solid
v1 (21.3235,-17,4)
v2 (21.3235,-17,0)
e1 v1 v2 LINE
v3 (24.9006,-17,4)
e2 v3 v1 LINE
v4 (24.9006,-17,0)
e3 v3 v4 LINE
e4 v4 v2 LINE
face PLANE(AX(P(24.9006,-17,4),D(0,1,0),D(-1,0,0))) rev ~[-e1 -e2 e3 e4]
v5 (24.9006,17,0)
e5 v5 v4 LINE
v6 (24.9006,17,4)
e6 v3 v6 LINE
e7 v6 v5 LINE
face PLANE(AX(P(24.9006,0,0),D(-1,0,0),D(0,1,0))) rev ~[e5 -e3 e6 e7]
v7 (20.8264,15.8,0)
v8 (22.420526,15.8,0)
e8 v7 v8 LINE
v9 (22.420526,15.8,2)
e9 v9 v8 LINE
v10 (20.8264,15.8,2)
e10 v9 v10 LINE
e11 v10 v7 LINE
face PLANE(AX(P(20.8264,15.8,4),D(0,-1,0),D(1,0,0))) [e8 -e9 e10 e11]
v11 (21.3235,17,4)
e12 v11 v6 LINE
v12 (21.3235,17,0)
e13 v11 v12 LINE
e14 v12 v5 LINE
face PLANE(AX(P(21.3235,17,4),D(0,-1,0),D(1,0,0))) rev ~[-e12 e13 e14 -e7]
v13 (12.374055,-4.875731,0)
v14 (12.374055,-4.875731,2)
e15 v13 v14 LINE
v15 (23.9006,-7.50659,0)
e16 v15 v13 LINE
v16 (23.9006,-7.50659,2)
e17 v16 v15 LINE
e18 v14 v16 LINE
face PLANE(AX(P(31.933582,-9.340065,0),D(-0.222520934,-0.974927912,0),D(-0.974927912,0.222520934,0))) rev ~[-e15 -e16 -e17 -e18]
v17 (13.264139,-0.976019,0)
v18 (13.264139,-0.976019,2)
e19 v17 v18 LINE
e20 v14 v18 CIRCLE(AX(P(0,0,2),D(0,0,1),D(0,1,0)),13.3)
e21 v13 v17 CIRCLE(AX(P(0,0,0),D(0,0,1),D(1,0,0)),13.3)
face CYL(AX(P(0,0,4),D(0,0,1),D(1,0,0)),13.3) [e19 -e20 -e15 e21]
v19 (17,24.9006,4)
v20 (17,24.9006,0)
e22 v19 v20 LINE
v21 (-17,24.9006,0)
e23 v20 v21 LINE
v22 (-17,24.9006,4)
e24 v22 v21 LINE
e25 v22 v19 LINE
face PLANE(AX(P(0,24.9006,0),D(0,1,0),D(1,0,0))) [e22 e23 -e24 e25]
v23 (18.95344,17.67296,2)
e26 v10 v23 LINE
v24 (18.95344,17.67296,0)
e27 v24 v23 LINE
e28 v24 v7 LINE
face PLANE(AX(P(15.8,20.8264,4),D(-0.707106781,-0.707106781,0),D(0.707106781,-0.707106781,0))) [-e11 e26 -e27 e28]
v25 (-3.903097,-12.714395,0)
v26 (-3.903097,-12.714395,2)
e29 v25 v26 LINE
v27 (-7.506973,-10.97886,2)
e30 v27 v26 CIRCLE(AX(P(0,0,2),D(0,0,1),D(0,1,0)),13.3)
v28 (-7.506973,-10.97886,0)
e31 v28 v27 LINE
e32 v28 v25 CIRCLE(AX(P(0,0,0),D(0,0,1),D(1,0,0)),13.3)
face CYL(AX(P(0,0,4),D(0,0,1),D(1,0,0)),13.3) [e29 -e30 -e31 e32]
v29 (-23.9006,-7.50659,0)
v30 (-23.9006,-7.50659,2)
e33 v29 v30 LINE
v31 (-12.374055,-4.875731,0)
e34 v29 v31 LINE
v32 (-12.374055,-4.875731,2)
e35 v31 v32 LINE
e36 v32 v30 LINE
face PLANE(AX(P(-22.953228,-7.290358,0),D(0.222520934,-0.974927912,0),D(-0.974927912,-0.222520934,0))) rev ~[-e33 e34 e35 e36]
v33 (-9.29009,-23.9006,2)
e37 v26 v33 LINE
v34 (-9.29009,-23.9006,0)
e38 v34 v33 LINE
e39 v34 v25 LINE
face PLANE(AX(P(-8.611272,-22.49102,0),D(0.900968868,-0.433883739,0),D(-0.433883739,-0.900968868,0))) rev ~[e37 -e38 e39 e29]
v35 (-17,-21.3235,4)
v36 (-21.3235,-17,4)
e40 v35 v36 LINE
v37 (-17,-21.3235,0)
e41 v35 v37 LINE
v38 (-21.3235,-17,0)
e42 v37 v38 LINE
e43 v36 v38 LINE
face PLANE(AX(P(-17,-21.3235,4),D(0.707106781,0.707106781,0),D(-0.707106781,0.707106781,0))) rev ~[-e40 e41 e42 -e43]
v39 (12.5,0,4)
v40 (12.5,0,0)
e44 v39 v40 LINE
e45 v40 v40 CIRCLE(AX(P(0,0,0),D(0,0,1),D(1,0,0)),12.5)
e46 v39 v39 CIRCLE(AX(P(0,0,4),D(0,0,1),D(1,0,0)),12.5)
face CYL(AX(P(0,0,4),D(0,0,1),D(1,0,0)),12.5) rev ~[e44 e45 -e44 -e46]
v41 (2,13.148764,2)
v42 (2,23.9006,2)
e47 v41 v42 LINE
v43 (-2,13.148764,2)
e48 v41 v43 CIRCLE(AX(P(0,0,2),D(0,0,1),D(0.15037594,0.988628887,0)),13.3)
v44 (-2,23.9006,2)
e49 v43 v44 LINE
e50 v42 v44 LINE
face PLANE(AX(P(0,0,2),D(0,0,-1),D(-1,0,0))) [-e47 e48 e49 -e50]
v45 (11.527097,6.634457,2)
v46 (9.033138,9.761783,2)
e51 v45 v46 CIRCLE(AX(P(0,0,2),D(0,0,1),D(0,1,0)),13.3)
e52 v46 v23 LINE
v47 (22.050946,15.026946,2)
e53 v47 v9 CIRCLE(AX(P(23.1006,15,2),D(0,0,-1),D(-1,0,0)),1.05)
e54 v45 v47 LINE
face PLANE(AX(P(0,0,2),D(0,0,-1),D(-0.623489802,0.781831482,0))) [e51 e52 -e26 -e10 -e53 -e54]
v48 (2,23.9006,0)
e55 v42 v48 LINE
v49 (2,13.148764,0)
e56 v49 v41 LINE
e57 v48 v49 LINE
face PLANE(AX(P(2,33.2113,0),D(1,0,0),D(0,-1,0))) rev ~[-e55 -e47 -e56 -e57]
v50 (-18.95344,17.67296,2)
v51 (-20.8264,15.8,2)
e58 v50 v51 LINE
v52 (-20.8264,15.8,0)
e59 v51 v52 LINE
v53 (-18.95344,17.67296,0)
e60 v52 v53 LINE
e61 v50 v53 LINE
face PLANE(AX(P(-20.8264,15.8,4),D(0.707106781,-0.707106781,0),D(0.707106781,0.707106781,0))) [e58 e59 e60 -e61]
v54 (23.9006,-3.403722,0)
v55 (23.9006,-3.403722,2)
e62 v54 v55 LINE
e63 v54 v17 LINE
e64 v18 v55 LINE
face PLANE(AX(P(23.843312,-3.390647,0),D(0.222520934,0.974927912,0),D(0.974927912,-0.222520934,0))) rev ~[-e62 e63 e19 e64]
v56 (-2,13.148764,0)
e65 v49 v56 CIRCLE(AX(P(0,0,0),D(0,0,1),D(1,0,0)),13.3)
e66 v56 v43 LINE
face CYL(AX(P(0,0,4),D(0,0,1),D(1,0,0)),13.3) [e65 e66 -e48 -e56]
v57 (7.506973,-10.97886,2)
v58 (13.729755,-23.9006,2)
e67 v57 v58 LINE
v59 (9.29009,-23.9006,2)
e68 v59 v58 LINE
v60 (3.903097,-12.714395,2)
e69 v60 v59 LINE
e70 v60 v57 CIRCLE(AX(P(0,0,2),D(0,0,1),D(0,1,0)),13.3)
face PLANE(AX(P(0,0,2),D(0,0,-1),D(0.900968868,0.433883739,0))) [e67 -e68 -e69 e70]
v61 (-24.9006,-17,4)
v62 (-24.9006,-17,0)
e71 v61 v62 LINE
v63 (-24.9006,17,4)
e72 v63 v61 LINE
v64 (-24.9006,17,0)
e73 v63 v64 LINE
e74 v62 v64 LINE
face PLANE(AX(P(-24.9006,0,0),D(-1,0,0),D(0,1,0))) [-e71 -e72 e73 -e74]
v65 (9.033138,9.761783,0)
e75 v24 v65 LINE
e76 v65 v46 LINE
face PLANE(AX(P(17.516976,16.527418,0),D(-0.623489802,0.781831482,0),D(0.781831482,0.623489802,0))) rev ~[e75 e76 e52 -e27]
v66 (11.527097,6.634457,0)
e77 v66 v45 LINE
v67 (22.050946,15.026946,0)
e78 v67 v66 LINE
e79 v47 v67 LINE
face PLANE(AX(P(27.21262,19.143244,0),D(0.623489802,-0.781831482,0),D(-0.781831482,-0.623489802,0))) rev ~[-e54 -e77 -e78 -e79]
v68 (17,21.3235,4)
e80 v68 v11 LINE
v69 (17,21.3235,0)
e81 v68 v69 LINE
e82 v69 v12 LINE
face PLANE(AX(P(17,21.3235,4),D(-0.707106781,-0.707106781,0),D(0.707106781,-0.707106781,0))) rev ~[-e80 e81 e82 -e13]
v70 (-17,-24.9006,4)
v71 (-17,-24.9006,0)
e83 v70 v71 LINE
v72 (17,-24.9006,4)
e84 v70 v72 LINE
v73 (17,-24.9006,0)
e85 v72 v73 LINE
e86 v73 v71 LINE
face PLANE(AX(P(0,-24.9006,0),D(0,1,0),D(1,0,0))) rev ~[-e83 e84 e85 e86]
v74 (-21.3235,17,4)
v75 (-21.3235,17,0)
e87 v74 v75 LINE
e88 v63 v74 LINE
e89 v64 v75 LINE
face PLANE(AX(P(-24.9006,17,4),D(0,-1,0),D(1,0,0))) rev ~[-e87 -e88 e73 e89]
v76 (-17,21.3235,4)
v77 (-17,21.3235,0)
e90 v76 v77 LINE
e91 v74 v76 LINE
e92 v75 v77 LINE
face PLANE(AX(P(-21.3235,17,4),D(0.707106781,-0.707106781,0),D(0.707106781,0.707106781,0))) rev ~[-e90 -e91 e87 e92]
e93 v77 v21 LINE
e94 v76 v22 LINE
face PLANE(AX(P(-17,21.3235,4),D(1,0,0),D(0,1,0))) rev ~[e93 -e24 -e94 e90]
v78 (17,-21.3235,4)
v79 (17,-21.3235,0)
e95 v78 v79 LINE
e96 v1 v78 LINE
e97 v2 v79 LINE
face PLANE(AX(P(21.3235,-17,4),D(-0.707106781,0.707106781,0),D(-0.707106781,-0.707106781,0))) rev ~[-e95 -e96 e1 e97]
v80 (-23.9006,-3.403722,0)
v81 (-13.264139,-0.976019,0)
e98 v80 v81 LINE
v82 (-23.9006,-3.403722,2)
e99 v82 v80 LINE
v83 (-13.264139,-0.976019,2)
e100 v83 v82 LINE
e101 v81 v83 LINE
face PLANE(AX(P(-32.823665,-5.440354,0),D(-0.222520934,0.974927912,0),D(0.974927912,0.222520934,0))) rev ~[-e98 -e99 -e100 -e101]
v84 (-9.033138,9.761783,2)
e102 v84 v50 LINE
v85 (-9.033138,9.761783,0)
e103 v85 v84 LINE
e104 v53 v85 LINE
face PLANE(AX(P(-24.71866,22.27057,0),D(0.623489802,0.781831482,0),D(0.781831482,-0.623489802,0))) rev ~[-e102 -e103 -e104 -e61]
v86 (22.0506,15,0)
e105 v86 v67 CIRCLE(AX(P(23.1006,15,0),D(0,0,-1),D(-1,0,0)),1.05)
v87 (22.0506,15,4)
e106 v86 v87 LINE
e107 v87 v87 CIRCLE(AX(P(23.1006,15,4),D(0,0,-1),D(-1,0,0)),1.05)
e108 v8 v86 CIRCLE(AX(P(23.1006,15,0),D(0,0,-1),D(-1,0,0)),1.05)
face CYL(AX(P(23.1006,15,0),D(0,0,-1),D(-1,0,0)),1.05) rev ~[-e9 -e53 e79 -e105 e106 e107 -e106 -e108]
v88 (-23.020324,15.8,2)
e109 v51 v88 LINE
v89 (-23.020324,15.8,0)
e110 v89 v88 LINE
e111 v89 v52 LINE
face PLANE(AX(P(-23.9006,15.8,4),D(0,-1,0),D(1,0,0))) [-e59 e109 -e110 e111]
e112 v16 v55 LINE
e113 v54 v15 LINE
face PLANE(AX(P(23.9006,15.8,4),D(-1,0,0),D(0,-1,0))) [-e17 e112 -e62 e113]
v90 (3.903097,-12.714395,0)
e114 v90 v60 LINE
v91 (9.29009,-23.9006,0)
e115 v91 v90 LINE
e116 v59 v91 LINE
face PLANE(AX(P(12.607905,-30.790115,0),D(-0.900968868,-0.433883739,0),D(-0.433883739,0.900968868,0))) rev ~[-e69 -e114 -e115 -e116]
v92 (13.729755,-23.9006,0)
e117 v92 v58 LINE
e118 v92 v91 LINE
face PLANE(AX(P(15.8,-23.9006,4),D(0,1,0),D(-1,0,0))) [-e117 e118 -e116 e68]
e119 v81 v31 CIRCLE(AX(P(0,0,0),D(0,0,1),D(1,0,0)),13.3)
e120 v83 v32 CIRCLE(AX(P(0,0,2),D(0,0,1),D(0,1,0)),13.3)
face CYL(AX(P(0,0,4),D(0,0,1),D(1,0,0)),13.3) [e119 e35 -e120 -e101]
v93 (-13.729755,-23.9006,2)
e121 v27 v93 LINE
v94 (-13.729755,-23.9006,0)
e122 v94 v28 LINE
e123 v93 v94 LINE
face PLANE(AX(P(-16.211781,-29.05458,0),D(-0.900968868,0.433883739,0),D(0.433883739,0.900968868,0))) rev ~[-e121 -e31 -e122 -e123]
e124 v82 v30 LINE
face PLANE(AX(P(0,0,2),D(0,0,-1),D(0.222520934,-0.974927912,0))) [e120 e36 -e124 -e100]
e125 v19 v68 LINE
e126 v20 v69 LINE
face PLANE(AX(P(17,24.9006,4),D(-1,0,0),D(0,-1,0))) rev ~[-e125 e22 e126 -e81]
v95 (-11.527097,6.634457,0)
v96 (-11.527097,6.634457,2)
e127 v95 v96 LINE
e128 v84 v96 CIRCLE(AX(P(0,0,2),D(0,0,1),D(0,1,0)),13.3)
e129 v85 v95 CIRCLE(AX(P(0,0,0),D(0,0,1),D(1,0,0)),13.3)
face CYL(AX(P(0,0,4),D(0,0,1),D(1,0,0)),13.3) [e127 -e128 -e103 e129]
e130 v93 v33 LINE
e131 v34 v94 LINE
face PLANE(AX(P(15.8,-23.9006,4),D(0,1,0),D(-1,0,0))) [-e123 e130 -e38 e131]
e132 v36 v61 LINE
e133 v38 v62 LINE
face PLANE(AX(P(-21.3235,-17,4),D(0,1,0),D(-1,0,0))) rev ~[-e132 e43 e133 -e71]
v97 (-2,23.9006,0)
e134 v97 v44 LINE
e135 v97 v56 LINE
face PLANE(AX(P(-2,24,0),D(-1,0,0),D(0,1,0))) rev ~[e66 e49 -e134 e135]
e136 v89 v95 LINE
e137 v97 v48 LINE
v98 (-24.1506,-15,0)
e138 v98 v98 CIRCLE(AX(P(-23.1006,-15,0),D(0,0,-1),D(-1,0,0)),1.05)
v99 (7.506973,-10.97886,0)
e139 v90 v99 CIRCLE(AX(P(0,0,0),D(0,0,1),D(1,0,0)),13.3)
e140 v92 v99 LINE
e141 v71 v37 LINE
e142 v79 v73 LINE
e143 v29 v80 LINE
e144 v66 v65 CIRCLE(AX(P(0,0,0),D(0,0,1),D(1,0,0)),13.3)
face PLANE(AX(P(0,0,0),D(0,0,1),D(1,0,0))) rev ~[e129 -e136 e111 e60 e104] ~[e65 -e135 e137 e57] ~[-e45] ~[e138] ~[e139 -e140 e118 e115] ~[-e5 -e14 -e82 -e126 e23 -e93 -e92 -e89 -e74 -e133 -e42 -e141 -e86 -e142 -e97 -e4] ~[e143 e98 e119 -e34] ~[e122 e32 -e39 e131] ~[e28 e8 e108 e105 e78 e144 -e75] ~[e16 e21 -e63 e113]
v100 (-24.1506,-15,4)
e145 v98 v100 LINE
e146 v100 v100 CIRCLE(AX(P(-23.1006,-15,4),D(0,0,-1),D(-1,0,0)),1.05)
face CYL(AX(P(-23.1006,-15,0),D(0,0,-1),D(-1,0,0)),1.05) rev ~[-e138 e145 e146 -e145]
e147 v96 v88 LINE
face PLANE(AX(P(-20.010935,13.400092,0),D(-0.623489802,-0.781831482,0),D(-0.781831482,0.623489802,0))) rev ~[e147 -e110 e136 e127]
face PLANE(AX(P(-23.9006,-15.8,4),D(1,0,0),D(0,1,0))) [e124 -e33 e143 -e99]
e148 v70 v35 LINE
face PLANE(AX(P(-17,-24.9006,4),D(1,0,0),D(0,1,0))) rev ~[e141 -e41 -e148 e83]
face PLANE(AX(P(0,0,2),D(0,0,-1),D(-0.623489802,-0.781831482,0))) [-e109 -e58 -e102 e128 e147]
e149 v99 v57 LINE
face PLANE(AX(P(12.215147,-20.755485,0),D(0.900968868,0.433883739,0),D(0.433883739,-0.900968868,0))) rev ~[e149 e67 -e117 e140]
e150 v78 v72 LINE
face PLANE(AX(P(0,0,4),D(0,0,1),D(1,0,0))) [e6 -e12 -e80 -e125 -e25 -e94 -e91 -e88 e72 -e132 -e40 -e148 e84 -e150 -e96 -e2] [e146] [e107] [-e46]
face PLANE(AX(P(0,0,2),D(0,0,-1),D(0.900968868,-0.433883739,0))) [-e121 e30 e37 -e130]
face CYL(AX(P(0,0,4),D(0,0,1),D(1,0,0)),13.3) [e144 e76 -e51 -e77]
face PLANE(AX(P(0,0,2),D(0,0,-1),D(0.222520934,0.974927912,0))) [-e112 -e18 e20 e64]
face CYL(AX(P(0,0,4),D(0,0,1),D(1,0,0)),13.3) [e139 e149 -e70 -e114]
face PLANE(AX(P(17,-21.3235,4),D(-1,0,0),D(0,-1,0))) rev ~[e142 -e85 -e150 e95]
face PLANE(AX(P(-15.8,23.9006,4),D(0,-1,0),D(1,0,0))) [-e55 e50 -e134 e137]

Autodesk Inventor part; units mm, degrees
ref_plane "YZ Plane" through (0, 0, 0) normal (1, 0, 0) x (0, 1, 0)
ref_plane "XZ Plane" through (0, 0, 0) normal (0, 1, 0) x (-1, 0, 0)
ref_plane "XY Plane" through (0, 0, 0) normal (0, 0, 1) x (1, 0, 0)
sketch "Sketch1" plane through (0, 0, 0) normal (0, 0, 1) x (1, 0, 0)
  line L0 (-34.8609, 0) -> (34.8609, 0) construction
  line L1 (0, -34.8609) -> (0, 34.8609) construction
  line L2 (0, 0) -> (11.6542, 11.6542) construction
  line L3 (0, 0) -> (16.4815, 0) construction
  line L4 (0, 24.9006) -> (16.8, 24.9006)
  line L5 (16.8, 24.9006) -> (16.8, 21.2406)
  line L6 (16.8, 21.2406) -> (19.0203, 19.0203)
  line L7 (24.9006, 0) -> (24.9006, 16.8)
  line L8 (24.9006, 16.8) -> (21.2406, 16.8)
  line L9 (21.2406, 16.8) -> (19.0203, 19.0203)
  line L10 (0, 0) -> (-11.6542, 11.6542) construction
  line L11 (0, 0) -> (-16.4815, 0) construction
  line L12 (0, 24.9006) -> (-16.8, 24.9006)
  line L13 (-16.8, 24.9006) -> (-16.8, 21.2406)
  line L14 (-16.8, 21.2406) -> (-19.0203, 19.0203)
  line L15 (-24.9006, 0) -> (-24.9006, 16.8)
  line L16 (-24.9006, 16.8) -> (-21.2406, 16.8)
  line L17 (-21.2406, 16.8) -> (-19.0203, 19.0203)
  line L18 (0, 0) -> (11.6542, -11.6542) construction
  line L19 (0, -24.9006) -> (16.8, -24.9006)
  line L20 (16.8, -24.9006) -> (16.8, -21.2406)
  line L21 (16.8, -21.2406) -> (19.0203, -19.0203)
  line L22 (24.9006, 0) -> (24.9006, -16.8)
  line L23 (24.9006, -16.8) -> (21.2406, -16.8)
  line L24 (21.2406, -16.8) -> (19.0203, -19.0203)
  line L25 (0, 0) -> (-11.6542, -11.6542) construction
  line L26 (0, -24.9006) -> (-16.8, -24.9006)
  line L27 (-16.8, -24.9006) -> (-16.8, -21.2406)
  line L28 (-16.8, -21.2406) -> (-19.0203, -19.0203)
  line L29 (-24.9006, 0) -> (-24.9006, -16.8)
  line L30 (-24.9006, -16.8) -> (-21.2406, -16.8)
  line L31 (-21.2406, -16.8) -> (-19.0203, -19.0203)
  dimension "d0" = 45
  dimension "d1" = 3.14
  dimension "d2" = 3.66
  dimension "d3" = 16.8
extrude "Extrusion1" add sketch "Sketch1" along normal blind 4
hole "Hole1" at (0, 0, 0) direction (0, 0, 1) diameter 26.6 end through all
sketch "Sketch6" plane through (0, 0, 4) normal (0, 0, 1) x (1, 0, 0)
  circle A0 centre (0, 0) radius 13.3 construction
  line L0 (16.8, 24.9006) -> (-16.8, 24.9006) construction
  line L1 (-16.8, 24.9006) -> (-16.8, 21.2406) construction
  line L2 (-16.8, 21.2406) -> (-21.2406, 16.8) construction
  line L3 (-21.2406, 16.8) -> (-24.9006, 16.8) construction
  line L4 (-24.9006, 16.8) -> (-24.9006, -16.8) construction
  line L5 (-24.9006, -16.8) -> (-21.2406, -16.8) construction
  line L6 (-21.2406, -16.8) -> (-16.8, -21.2406) construction
  line L7 (-16.8, -21.2406) -> (-16.8, -24.9006) construction
  line L8 (-16.8, -24.9006) -> (16.8, -24.9006) construction
  line L9 (16.8, -24.9006) -> (16.8, -21.2406) construction
  line L10 (16.8, -21.2406) -> (21.2406, -16.8) construction
  line L11 (21.2406, -16.8) -> (24.9006, -16.8) construction
  line L12 (24.9006, -16.8) -> (24.9006, 16.8) construction
  line L13 (24.9006, 16.8) -> (21.2406, 16.8) construction
  line L14 (21.2406, 16.8) -> (16.8, 21.2406) construction
  line L15 (16.8, 21.2406) -> (16.8, 24.9006) construction
  circle A1 centre (0, 0) radius 13.3
  circle A2 centre (0, 0) radius 13.5
  dimension "d42" = 26.6
  dimension "d43" = 27
extrude "Extrusion4" [suppressed]
sketch "Sketch7" plane through (0, 0, 0) normal (0, 0, -1) x (-1, 0, 0)
  line L0 (16.8, 24.9006) -> (-16.8, 24.9006) construction
  line L1 (-16.8, 24.9006) -> (-16.8, 21.2406) construction
  line L2 (-16.8, 21.2406) -> (-21.2406, 16.8) construction
  line L3 (-21.2406, 16.8) -> (-24.9006, 16.8) construction
  line L4 (-24.9006, 16.8) -> (-24.9006, -16.8) construction
  line L5 (-24.9006, -16.8) -> (-21.2406, -16.8) construction
  line L6 (-21.2406, -16.8) -> (-16.8, -21.2406) construction
  line L7 (-16.8, -21.2406) -> (-16.8, -24.9006) construction
  line L8 (-16.8, -24.9006) -> (16.8, -24.9006) construction
  line L9 (16.8, -24.9006) -> (16.8, -21.2406) construction
  line L10 (16.8, -21.2406) -> (21.2406, -16.8) construction
  line L11 (21.2406, -16.8) -> (24.9006, -16.8) construction
  line L12 (24.9006, -16.8) -> (24.9006, 16.8) construction
  line L13 (24.9006, 16.8) -> (21.2406, 16.8) construction
  line L14 (21.2406, 16.8) -> (16.8, 21.2406) construction
  line L15 (16.8, 21.2406) -> (16.8, 24.9006) construction
  line L16 (-2.0147, 24.1761) -> (-2, 24) construction
  line L17 (-1.9775, 24.0019) -> (-1.9921, 24.178) construction
  line L18 (1.9921, 24.178) -> (1.9775, 24.0019) construction
  line L19 (2, 24) -> (2.0147, 24.1761) construction
  line L20 (5.9445, 23.5204) -> (5.9012, 23.349) construction
  line L21 (5.923, 23.3435) -> (5.9665, 23.5148) construction
  line L22 (9.7347, 22.2212) -> (9.6638, 22.0593) construction
  line L23 (9.6844, 22.0502) -> (9.7555, 22.212) construction
  line L24 (13.2594, 20.3158) -> (13.1628, 20.1678) construction
  line L25 (13.1817, 20.1555) -> (13.2784, 20.3034) construction
  line L26 (16.4225, 17.8563) -> (16.3028, 17.7262) construction
  line L27 (16.3194, 17.7109) -> (16.4392, 17.8409) construction
  line L28 (19.1375, 14.9097) -> (18.9981, 14.8011) construction
  line L29 (19.0119, 14.7833) -> (19.1515, 14.8918) construction
  line L30 (21.3306, 11.5564) -> (21.1752, 11.4722) construction
  line L31 (21.1859, 11.4524) -> (21.3414, 11.5365) construction
  line L32 (22.9418, 7.8879) -> (22.7746, 7.8305) construction
  line L33 (22.782, 7.8091) -> (22.9492, 7.8665) construction
  line L34 (23.9272, 4.0042) -> (23.7529, 3.9751) construction
  line L35 (23.7566, 3.9529) -> (23.9309, 3.9819) construction
  line L36 (24.2599, 0.0113) -> (24.0832, 0.0113) construction
  line L37 (24.0832, -0.0113) -> (24.2599, -0.0113) construction
  line L38 (23.9309, -3.9819) -> (23.7566, -3.9529) construction
  line L39 (23.7529, -3.9751) -> (23.9272, -4.0042) construction
  line L40 (22.9492, -7.8665) -> (22.782, -7.8091) construction
  line L41 (22.7746, -7.8305) -> (22.9418, -7.8879) construction
  line L42 (21.3414, -11.5365) -> (21.1859, -11.4524) construction
  line L43 (21.1752, -11.4722) -> (21.3306, -11.5564) construction
  line L44 (19.1515, -14.8918) -> (19.0119, -14.7833) construction
  line L45 (18.9981, -14.8011) -> (19.1375, -14.9097) construction
  line L46 (16.4392, -17.8409) -> (16.3194, -17.7109) construction
  line L47 (16.3028, -17.7262) -> (16.4225, -17.8563) construction
  line L48 (13.2784, -20.3034) -> (13.1817, -20.1555) construction
  line L49 (13.1628, -20.1678) -> (13.2594, -20.3158) construction
  line L50 (9.7555, -22.212) -> (9.6844, -22.0502) construction
  line L51 (9.6638, -22.0593) -> (9.7347, -22.2212) construction
  line L52 (5.9665, -23.5148) -> (5.923, -23.3435) construction
  line L53 (5.9012, -23.349) -> (5.9445, -23.5204) construction
  line L54 (2.0147, -24.1761) -> (2, -24) construction
  line L55 (1.9775, -24.0019) -> (1.9921, -24.178) construction
  line L56 (-1.9921, -24.178) -> (-1.9775, -24.0019) construction
  line L57 (-2, -24) -> (-2.0147, -24.1761) construction
  line L58 (-5.9445, -23.5204) -> (-5.9012, -23.349) construction
  line L59 (-5.923, -23.3435) -> (-5.9665, -23.5148) construction
  line L60 (-9.7347, -22.2212) -> (-9.6638, -22.0593) construction
  line L61 (-9.6844, -22.0502) -> (-9.7555, -22.212) construction
  line L62 (-13.2594, -20.3158) -> (-13.1628, -20.1678) construction
  line L63 (-13.1817, -20.1555) -> (-13.2784, -20.3034) construction
  line L64 (-16.4225, -17.8563) -> (-16.3028, -17.7262) construction
  line L65 (-16.3194, -17.7109) -> (-16.4392, -17.8409) construction
  line L66 (-19.1375, -14.9097) -> (-18.9981, -14.8011) construction
  line L67 (-19.0119, -14.7833) -> (-19.1515, -14.8918) construction
  line L68 (-21.3306, -11.5564) -> (-21.1752, -11.4722) construction
  line L69 (-21.1859, -11.4524) -> (-21.3414, -11.5365) construction
  line L70 (-22.9418, -7.8879) -> (-22.7746, -7.8305) construction
  line L71 (-22.782, -7.8091) -> (-22.9492, -7.8665) construction
  line L72 (-23.9272, -4.0042) -> (-23.7529, -3.9751) construction
  line L73 (-23.7566, -3.9529) -> (-23.9309, -3.9819) construction
  line L74 (-24.2599, -0.0113) -> (-24.0832, -0.0113) construction
  line L75 (-24.0832, 0.0113) -> (-24.2599, 0.0113) construction
  line L76 (-23.9309, 3.9819) -> (-23.7566, 3.9529) construction
  line L77 (-23.7529, 3.9751) -> (-23.9272, 4.0042) construction
  line L78 (-22.9492, 7.8665) -> (-22.782, 7.8091) construction
  line L79 (-22.7746, 7.8305) -> (-22.9418, 7.8879) construction
  line L80 (-21.3414, 11.5365) -> (-21.1859, 11.4524) construction
  line L81 (-21.1752, 11.4722) -> (-21.3306, 11.5564) construction
  line L82 (-19.1515, 14.8918) -> (-19.0119, 14.7833) construction
  line L83 (-18.9981, 14.8011) -> (-19.1375, 14.9097) construction
  line L84 (-16.4392, 17.8409) -> (-16.3194, 17.7109) construction
  line L85 (-16.3028, 17.7262) -> (-16.4225, 17.8563) construction
  line L86 (-13.2784, 20.3034) -> (-13.1817, 20.1555) construction
  line L87 (-13.1628, 20.1678) -> (-13.2594, 20.3158) construction
  line L88 (-9.7555, 22.212) -> (-9.6844, 22.0502) construction
  line L89 (-9.6638, 22.0593) -> (-9.7347, 22.2212) construction
  line L90 (-5.9665, 23.5148) -> (-5.923, 23.3435) construction
  line L91 (-5.9012, 23.349) -> (-5.9445, 23.5204) construction
  circle A0 centre (0, 24.5946) radius 2 construction
  line L92 (2, 33.2113) -> (-2, 33.2113)
  line L93 (-2, 33.2113) -> (-2, 6.8481)
  line L94 (-2, 6.8481) -> (2, 6.8481)
  line L95 (2, 6.8481) -> (2, 33.2113)
  circle A1 centre (-17.7867, 14.1844) radius 1.25 projected
  circle A2 centre (-22.1796, -5.0624) radius 1.25 projected
  circle A3 centre (-9.8709, -20.497) radius 1.25 projected
  circle A4 centre (9.8709, -20.497) radius 1.25 projected
  circle A5 centre (22.1796, -5.0624) radius 1.25 projected
  circle A6 centre (17.7867, 14.1844) radius 1.25 projected
  circle A7 centre (0, 22.75) radius 1.25 projected
  arc A8 (-2.0147, 24.1761) -> (-5.9445, 23.5204) centre (-3.9503, 23.6727) ccw projected
  arc A9 (-1.9973, 24.1039) -> (-2, 24) centre (0, 24) ccw projected
  arc A10 (-1.9775, 24.0019) -> (-1.9973, 24.1039) centre (-3.9503, 23.6727) ccw projected
  arc A11 (1.9921, 24.178) -> (-1.9921, 24.178) centre (0, 24) ccw projected
  arc A12 (1.9973, 24.1039) -> (1.9775, 24.0019) centre (3.9503, 23.6727) ccw projected
  arc A13 (2, 24) -> (1.9973, 24.1039) centre (0, 24) ccw projected
  arc A14 (5.9445, 23.5204) -> (2.0147, 24.1761) centre (3.9503, 23.6727) ccw projected
  arc A15 (5.9374, 23.4464) -> (5.9012, 23.349) centre (7.7928, 22.6996) ccw projected
  arc A16 (5.923, 23.3435) -> (5.9374, 23.4464) centre (3.9503, 23.6727) ccw projected
  arc A17 (9.7347, 22.2212) -> (5.9665, 23.5148) centre (7.7928, 22.6996) ccw projected
  arc A18 (9.7156, 22.1493) -> (9.6638, 22.0593) centre (11.4227, 21.1074) ccw projected
  arc A19 (9.6844, 22.0502) -> (9.7156, 22.1493) centre (7.7928, 22.6996) ccw projected
  arc A20 (13.2594, 20.3158) -> (9.7555, 22.212) centre (11.4227, 21.1074) ccw projected
  arc A21 (13.2287, 20.2481) -> (13.1628, 20.1678) centre (14.7411, 18.9394) ccw projected
  arc A22 (13.1817, 20.1555) -> (13.2287, 20.2481) centre (11.4227, 21.1074) ccw projected
  arc A23 (16.4225, 17.8563) -> (13.2784, 20.3034) centre (14.7411, 18.9394) ccw projected
  arc A24 (16.381, 17.7946) -> (16.3028, 17.7262) centre (17.6574, 16.2548) ccw projected
  arc A25 (16.3194, 17.7109) -> (16.381, 17.7946) centre (14.7411, 18.9394) ccw projected
  arc A26 (19.1375, 14.9097) -> (16.4392, 17.8409) centre (17.6574, 16.2548) ccw projected
  arc A27 (19.0865, 14.8556) -> (18.9981, 14.8011) centre (20.092, 13.1268) ccw projected
  arc A28 (19.0119, 14.7833) -> (19.0865, 14.8556) centre (17.6574, 16.2548) ccw projected
  arc A29 (21.3306, 11.5564) -> (19.1515, 14.8918) centre (20.092, 13.1268) ccw projected
  arc A30 (21.2714, 11.5115) -> (21.1752, 11.4722) centre (21.9786, 9.6407) ccw projected
  arc A31 (21.1859, 11.4524) -> (21.2714, 11.5115) centre (20.092, 13.1268) ccw projected
  arc A32 (22.9418, 7.8879) -> (21.3414, 11.5365) centre (21.9786, 9.6407) ccw projected
  arc A33 (22.876, 7.8533) -> (22.7746, 7.8305) centre (23.2656, 5.8917) ccw projected
  arc A34 (22.782, 7.8091) -> (22.876, 7.8533) centre (21.9786, 9.6407) ccw projected
  arc A35 (23.9272, 4.0042) -> (22.9492, 7.8665) centre (23.2656, 5.8917) ccw projected
  arc A36 (23.8566, 3.981) -> (23.7529, 3.9751) centre (23.918, 1.9819) ccw projected
  arc A37 (23.7566, 3.9529) -> (23.8566, 3.981) centre (23.2656, 5.8917) ccw projected
  arc A38 (24.2599, 0.0113) -> (23.9309, 3.9819) centre (23.918, 1.9819) ccw projected
  arc A39 (24.1865, 0) -> (24.0832, 0.0113) centre (23.918, -1.9819) ccw projected
  arc A40 (24.0832, -0.0113) -> (24.1865, 0) centre (23.918, 1.9819) ccw projected
  arc A41 (23.9309, -3.9819) -> (24.2599, -0.0113) centre (23.918, -1.9819) ccw projected
  arc A42 (23.8566, -3.981) -> (23.7566, -3.9529) centre (23.2656, -5.8917) ccw projected
  arc A43 (23.7529, -3.9751) -> (23.8566, -3.981) centre (23.918, -1.9819) ccw projected
  arc A44 (22.9492, -7.8665) -> (23.9272, -4.0042) centre (23.2656, -5.8917) ccw projected
  arc A45 (22.876, -7.8533) -> (22.782, -7.8091) centre (21.9786, -9.6407) ccw projected
  arc A46 (22.7746, -7.8305) -> (22.876, -7.8533) centre (23.2656, -5.8917) ccw projected
  arc A47 (21.3414, -11.5365) -> (22.9418, -7.8879) centre (21.9786, -9.6407) ccw projected
  arc A48 (21.2714, -11.5115) -> (21.1859, -11.4524) centre (20.092, -13.1268) ccw projected
  arc A49 (21.1752, -11.4722) -> (21.2714, -11.5115) centre (21.9786, -9.6407) ccw projected
  arc A50 (19.1515, -14.8918) -> (21.3306, -11.5564) centre (20.092, -13.1268) ccw projected
  arc A51 (19.0865, -14.8556) -> (19.0119, -14.7833) centre (17.6574, -16.2548) ccw projected
  arc A52 (18.9981, -14.8011) -> (19.0865, -14.8556) centre (20.092, -13.1268) ccw projected
  arc A53 (16.4392, -17.8409) -> (19.1375, -14.9097) centre (17.6574, -16.2548) ccw projected
  arc A54 (16.381, -17.7946) -> (16.3194, -17.7109) centre (14.7411, -18.9394) ccw projected
  arc A55 (16.3028, -17.7262) -> (16.381, -17.7946) centre (17.6574, -16.2548) ccw projected
  arc A56 (13.2784, -20.3034) -> (16.4225, -17.8563) centre (14.7411, -18.9394) ccw projected
  arc A57 (13.2287, -20.2481) -> (13.1817, -20.1555) centre (11.4227, -21.1074) ccw projected
  arc A58 (13.1628, -20.1678) -> (13.2287, -20.2481) centre (14.7411, -18.9394) ccw projected
  arc A59 (9.7555, -22.212) -> (13.2594, -20.3158) centre (11.4227, -21.1074) ccw projected
  arc A60 (9.7156, -22.1493) -> (9.6844, -22.0502) centre (7.7928, -22.6996) ccw projected
  arc A61 (9.6638, -22.0593) -> (9.7156, -22.1493) centre (11.4227, -21.1074) ccw projected
  arc A62 (5.9665, -23.5148) -> (9.7347, -22.2212) centre (7.7928, -22.6996) ccw projected
  arc A63 (5.9374, -23.4464) -> (5.923, -23.3435) centre (3.9503, -23.6727) ccw projected
  arc A64 (5.9012, -23.349) -> (5.9374, -23.4464) centre (7.7928, -22.6996) ccw projected
  arc A65 (2.0147, -24.1761) -> (5.9445, -23.5204) centre (3.9503, -23.6727) ccw projected
  arc A66 (1.9973, -24.1039) -> (2, -24) centre (0, -24) ccw projected
  arc A67 (1.9775, -24.0019) -> (1.9973, -24.1039) centre (3.9503, -23.6727) ccw projected
  arc A68 (-1.9921, -24.178) -> (1.9921, -24.178) centre (0, -24) ccw projected
  arc A69 (-1.9973, -24.1039) -> (-1.9775, -24.0019) centre (-3.9503, -23.6727) ccw projected
  arc A70 (-2, -24) -> (-1.9973, -24.1039) centre (0, -24) ccw projected
  arc A71 (-5.9445, -23.5204) -> (-2.0147, -24.1761) centre (-3.9503, -23.6727) ccw projected
  arc A72 (-5.9374, -23.4464) -> (-5.9012, -23.349) centre (-7.7928, -22.6996) ccw projected
  arc A73 (-5.923, -23.3435) -> (-5.9374, -23.4464) centre (-3.9503, -23.6727) ccw projected
  arc A74 (-9.7347, -22.2212) -> (-5.9665, -23.5148) centre (-7.7928, -22.6996) ccw projected
  arc A75 (-9.7156, -22.1493) -> (-9.6638, -22.0593) centre (-11.4227, -21.1074) ccw projected
  arc A76 (-9.6844, -22.0502) -> (-9.7156, -22.1493) centre (-7.7928, -22.6996) ccw projected
  arc A77 (-13.2594, -20.3158) -> (-9.7555, -22.212) centre (-11.4227, -21.1074) ccw projected
  arc A78 (-13.2287, -20.2481) -> (-13.1628, -20.1678) centre (-14.7411, -18.9394) ccw projected
  arc A79 (-13.1817, -20.1555) -> (-13.2287, -20.2481) centre (-11.4227, -21.1074) ccw projected
  arc A80 (-16.4225, -17.8563) -> (-13.2784, -20.3034) centre (-14.7411, -18.9394) ccw projected
  arc A81 (-16.381, -17.7946) -> (-16.3028, -17.7262) centre (-17.6574, -16.2548) ccw projected
  arc A82 (-16.3194, -17.7109) -> (-16.381, -17.7946) centre (-14.7411, -18.9394) ccw projected
  arc A83 (-19.1375, -14.9097) -> (-16.4392, -17.8409) centre (-17.6574, -16.2548) ccw projected
  arc A84 (-19.0865, -14.8556) -> (-18.9981, -14.8011) centre (-20.092, -13.1268) ccw projected
  arc A85 (-19.0119, -14.7833) -> (-19.0865, -14.8556) centre (-17.6574, -16.2548) ccw projected
  arc A86 (-21.3306, -11.5564) -> (-19.1515, -14.8918) centre (-20.092, -13.1268) ccw projected
  arc A87 (-21.2714, -11.5115) -> (-21.1752, -11.4722) centre (-21.9786, -9.6407) ccw projected
  arc A88 (-21.1859, -11.4524) -> (-21.2714, -11.5115) centre (-20.092, -13.1268) ccw projected
  arc A89 (-22.9418, -7.8879) -> (-21.3414, -11.5365) centre (-21.9786, -9.6407) ccw projected
  arc A90 (-22.876, -7.8533) -> (-22.7746, -7.8305) centre (-23.2656, -5.8917) ccw projected
  arc A91 (-22.782, -7.8091) -> (-22.876, -7.8533) centre (-21.9786, -9.6407) ccw projected
  arc A92 (-23.9272, -4.0042) -> (-22.9492, -7.8665) centre (-23.2656, -5.8917) ccw projected
  arc A93 (-23.8566, -3.981) -> (-23.7529, -3.9751) centre (-23.918, -1.9819) ccw projected
  arc A94 (-23.7566, -3.9529) -> (-23.8566, -3.981) centre (-23.2656, -5.8917) ccw projected
  arc A95 (-24.2599, -0.0113) -> (-23.9309, -3.9819) centre (-23.918, -1.9819) ccw projected
  arc A96 (-24.1865, 0) -> (-24.0832, -0.0113) centre (-23.918, 1.9819) ccw projected
  arc A97 (-24.0832, 0.0113) -> (-24.1865, 0) centre (-23.918, -1.9819) ccw projected
  arc A98 (-23.9309, 3.9819) -> (-24.2599, 0.0113) centre (-23.918, 1.9819) ccw projected
  arc A99 (-23.8566, 3.981) -> (-23.7566, 3.9529) centre (-23.2656, 5.8917) ccw projected
  arc A100 (-23.7529, 3.9751) -> (-23.8566, 3.981) centre (-23.918, 1.9819) ccw projected
  arc A101 (-22.9492, 7.8665) -> (-23.9272, 4.0042) centre (-23.2656, 5.8917) ccw projected
  arc A102 (-22.876, 7.8533) -> (-22.782, 7.8091) centre (-21.9786, 9.6407) ccw projected
  arc A103 (-22.7746, 7.8305) -> (-22.876, 7.8533) centre (-23.2656, 5.8917) ccw projected
  arc A104 (-21.3414, 11.5365) -> (-22.9418, 7.8879) centre (-21.9786, 9.6407) ccw projected
  arc A105 (-21.2714, 11.5115) -> (-21.1859, 11.4524) centre (-20.092, 13.1268) ccw projected
  arc A106 (-21.1752, 11.4722) -> (-21.2714, 11.5115) centre (-21.9786, 9.6407) ccw projected
  arc A107 (-19.1515, 14.8918) -> (-21.3306, 11.5564) centre (-20.092, 13.1268) ccw projected
  arc A108 (-19.0865, 14.8556) -> (-19.0119, 14.7833) centre (-17.6574, 16.2548) ccw projected
  arc A109 (-18.9981, 14.8011) -> (-19.0865, 14.8556) centre (-20.092, 13.1268) ccw projected
  arc A110 (-16.4392, 17.8409) -> (-19.1375, 14.9097) centre (-17.6574, 16.2548) ccw projected
  arc A111 (-16.381, 17.7946) -> (-16.3194, 17.7109) centre (-14.7411, 18.9394) ccw projected
  arc A112 (-16.3028, 17.7262) -> (-16.381, 17.7946) centre (-17.6574, 16.2548) ccw projected
  arc A113 (-13.2784, 20.3034) -> (-16.4225, 17.8563) centre (-14.7411, 18.9394) ccw projected
  arc A114 (-13.2287, 20.2481) -> (-13.1817, 20.1555) centre (-11.4227, 21.1074) ccw projected
  arc A115 (-13.1628, 20.1678) -> (-13.2287, 20.2481) centre (-14.7411, 18.9394) ccw projected
  arc A116 (-9.7555, 22.212) -> (-13.2594, 20.3158) centre (-11.4227, 21.1074) ccw projected
  arc A117 (-9.7156, 22.1493) -> (-9.6844, 22.0502) centre (-7.7928, 22.6996) ccw projected
  arc A118 (-9.6638, 22.0593) -> (-9.7156, 22.1493) centre (-11.4227, 21.1074) ccw projected
  arc A119 (-5.9665, 23.5148) -> (-9.7347, 22.2212) centre (-7.7928, 22.6996) ccw projected
  arc A120 (-5.9374, 23.4464) -> (-5.923, 23.3435) centre (-3.9503, 23.6727) ccw projected
  arc A121 (-5.9012, 23.349) -> (-5.9374, 23.4464) centre (-7.7928, 22.6996) ccw projected
  circle A122 centre (0, 0) radius 21 projected
  point P0 (0, 0)
  point P1 (3.35, 15.4344)
  point P2 (3.35, -6.3124)
  point P3 (3.35, 24.1039)
  point P4 (3.35, 24.1039)
  point P5 (3.35, 25.6727)
  point P6 (3.35, 23.4464)
  point P7 (3.35, 20.3158)
  point P8 (3.35, 20.2481)
  point P9 (3.35, 17.7946)
  point P10 (3.35, 14.8556)
  point P11 (3.35, 11.5115)
  point P12 (3.35, 7.8533)
  point P13 (3.35, 3.981)
  point P14 (3.35, 0.0113)
  point P15 (3.35, 0)
  point P16 (3.35, -3.981)
  point P17 (3.35, -7.8533)
  point P18 (3.35, -11.5115)
  point P19 (3.35, -14.8556)
  point P20 (3.35, -18.2548)
  point P21 (3.35, -17.7946)
  point P22 (3.35, -20.2481)
  point P23 (3.35, -22.1493)
  point P24 (3.35, -23.4464)
  point P25 (3.35, -24.1039)
  point P26 (3.35, -24.1039)
  point P27 (3.35, -25.6727)
  point P28 (3.35, -23.4464)
  point P29 (3.35, -20.3158)
  point P30 (3.35, -20.1555)
  point P31 (3.35, -17.7109)
  point P32 (3.35, -14.7833)
  point P33 (3.35, -11.4524)
  point P34 (3.35, -7.8091)
  point P35 (3.35, -3.9529)
  point P36 (3.35, -0.0113)
  point P37 (3.35, 0.0113)
  point P38 (3.35, 3.981)
  point P39 (3.35, 7.8533)
  point P40 (3.35, 11.5115)
  point P41 (3.35, 14.8556)
  point P42 (3.35, 18.2548)
  point P43 (3.35, 17.7946)
  point P44 (3.35, 20.2481)
  point P45 (3.35, 22.1493)
  point P46 (3.35, 23.4464)
  dimension "d32" = 4
extrude "Extrusion5" cut sketch "Sketch7" against normal blind 2 contours L95 A122 L93 L92 | L95 L94 L93 A122 | A7 picked at (0.2225, 11.5619)
pattern_circular "Circular Pattern1" count 7 over 360 about axis through (0, 0, -10) along (0, 0, 1) of "Extrusion5"
sketch "Sketch8" plane through (0, 0, 4) normal (0, 0, 1) x (1, 0, 0)
  line L0 (16.8, 24.9006) -> (-16.8, 24.9006) projected
  line L1 (-16.8, 24.9006) -> (-16.8, 21.2406) projected
  line L2 (-16.8, 21.2406) -> (-21.2406, 16.8) projected
  line L3 (-21.2406, 16.8) -> (-24.9006, 16.8) projected
  line L4 (-24.9006, 16.8) -> (-24.9006, -16.8) projected
  line L5 (-24.9006, -16.8) -> (-21.2406, -16.8) projected
  line L6 (-21.2406, -16.8) -> (-16.8, -21.2406) projected
  line L7 (-16.8, -21.2406) -> (-16.8, -24.9006) projected
  line L8 (-16.8, -24.9006) -> (16.8, -24.9006) projected
  line L9 (16.8, -24.9006) -> (16.8, -21.2406) projected
  line L10 (16.8, -21.2406) -> (21.2406, -16.8) projected
  line L11 (21.2406, -16.8) -> (24.9006, -16.8) projected
  line L12 (24.9006, -16.8) -> (24.9006, 16.8) projected
  line L13 (24.9006, 16.8) -> (21.2406, 16.8) projected
  line L14 (21.2406, 16.8) -> (16.8, 21.2406) projected
  line L15 (16.8, 21.2406) -> (16.8, 24.9006) projected
  line L16 (-23.9006, -15.8) -> (-23.9006, 15.8)
  line L17 (-23.9006, 15.8) -> (-20.8264, 15.8)
  line L18 (-20.8264, 15.8) -> (-15.8, 20.8264)
  line L19 (-15.8, 20.8264) -> (-15.8, 23.9006)
  line L20 (-15.8, 23.9006) -> (15.8, 23.9006)
  line L21 (15.8, 23.9006) -> (15.8, 20.8264)
  line L22 (15.8, 20.8264) -> (20.8264, 15.8)
  line L23 (20.8264, 15.8) -> (23.9006, 15.8)
  line L24 (23.9006, 15.8) -> (23.9006, -15.8)
  line L25 (23.9006, -15.8) -> (20.8264, -15.8)
  line L26 (20.8264, -15.8) -> (15.8, -20.8264)
  line L27 (15.8, -20.8264) -> (15.8, -23.9006)
  line L28 (15.8, -23.9006) -> (-15.8, -23.9006)
  line L29 (-15.8, -23.9006) -> (-15.8, -20.8264)
  line L30 (-15.8, -20.8264) -> (-20.8264, -15.8)
  line L31 (-20.8264, -15.8) -> (-23.9006, -15.8)
  circle A0 centre (0, 0) radius 13.3 projected
  circle A1 centre (0, 0) radius 12.5
  dimension "d41" = 1
  dimension "d46" = 0.8
extrude "Extrusion6" add sketch "Sketch8" against normal up to surface (4 mm away)
sketch "Sketch9" plane through (0, 0, 0) normal (0, 0, -1) x (-1, 0, 0)
  circle A0 centre (-23.1006, 15) radius 1.05 projected
  circle A1 centre (23.1006, -15) radius 1.05 projected
  point P0 (0, 0)
extrude "Extrusion7" cut sketch "Sketch9" against normal through all
sketch "Skizze10" plane through (0, 0, 4) normal (0, 0, 1) x (1, 0, 0)
  circle A0 centre (23.1006, 15) radius 1.05 construction
  circle A1 centre (-23.1006, -15) radius 1.05 construction
  circle A2 centre (0, 0) radius 12.5 construction
  line L0 (16.8, 24.9006) -> (-16.8, 24.9006) construction
  line L1 (-16.8, 24.9006) -> (-16.8, 21.2406) projected
  line L2 (-16.8, 21.2406) -> (-21.2406, 16.8) projected
  line L3 (-21.2406, 16.8) -> (-24.9006, 16.8) projected
  line L4 (-24.9006, 16.8) -> (-24.9006, -16.8) construction
  line L5 (-24.9006, -16.8) -> (-21.2406, -16.8) projected
  line L6 (-21.2406, -16.8) -> (-16.8, -21.2406) projected
  line L7 (-16.8, -21.2406) -> (-16.8, -24.9006) projected
  line L8 (-16.8, -24.9006) -> (16.8, -24.9006) construction
  line L9 (16.8, -24.9006) -> (16.8, -21.2406) projected
  line L10 (16.8, -21.2406) -> (21.2406, -16.8) projected
  line L11 (21.2406, -16.8) -> (24.9006, -16.8) projected
  line L12 (24.9006, -16.8) -> (24.9006, 16.8) construction
  line L13 (24.9006, 16.8) -> (21.2406, 16.8) projected
  line L14 (21.2406, 16.8) -> (16.8, 21.2406) projected
  line L15 (16.8, 21.2406) -> (16.8, 24.9006) projected
  line L16 (-17, 25.1006) -> (17, 25.1006) construction
  line L17 (17, 25.1006) -> (17, 21.3235)
  line L18 (17, 21.3235) -> (21.3235, 17)
  line L19 (21.3235, 17) -> (25.1006, 17)
  line L20 (25.1006, 17) -> (25.1006, -17) construction
  line L21 (25.1006, -17) -> (21.3235, -17)
  line L22 (21.3235, -17) -> (17, -21.3235)
  line L23 (17, -21.3235) -> (17, -25.1006)
  line L24 (17, -25.1006) -> (-17, -25.1006) construction
  line L25 (-17, -25.1006) -> (-17, -21.3235)
  line L26 (-17, -21.3235) -> (-21.3235, -17)
  line L27 (-21.3235, -17) -> (-25.1006, -17)
  line L28 (-25.1006, -17) -> (-25.1006, 17) construction
  line L29 (-25.1006, 17) -> (-21.3235, 17)
  line L30 (-21.3235, 17) -> (-17, 21.3235)
  line L31 (-17, 21.3235) -> (-17, 25.1006)
  line L32 (-24.9006, 16.8) -> (-24.9006, 17)
  line L33 (-16.8, 24.9006) -> (-16.8, 21.2406) projected
  line L34 (-16.8, 24.9006) -> (-17, 24.9006)
  line L35 (16.8, 24.9006) -> (17, 24.9006)
  line L36 (24.9006, -16.8) -> (24.9006, 16.8) projected
  line L37 (24.9006, 16.8) -> (24.9006, 17)
  line L38 (24.9006, -16.8) -> (24.9006, -17)
  line L39 (-16.8, -24.9006) -> (16.8, -24.9006) projected
  line L40 (16.8, -24.9006) -> (17, -24.9006)
  line L41 (-16.8, -24.9006) -> (-17, -24.9006)
  line L42 (-24.9006, -16.8) -> (-21.2406, -16.8) projected
  line L43 (-24.9006, -16.8) -> (-24.9006, -17)
  dimension "d51" = 0.2
extrude "IM_offset" add sketch "Skizze10" against normal up to surface (4 mm away)
properties part number "20_Cube_Insert_CirAp_Guide_v3"
